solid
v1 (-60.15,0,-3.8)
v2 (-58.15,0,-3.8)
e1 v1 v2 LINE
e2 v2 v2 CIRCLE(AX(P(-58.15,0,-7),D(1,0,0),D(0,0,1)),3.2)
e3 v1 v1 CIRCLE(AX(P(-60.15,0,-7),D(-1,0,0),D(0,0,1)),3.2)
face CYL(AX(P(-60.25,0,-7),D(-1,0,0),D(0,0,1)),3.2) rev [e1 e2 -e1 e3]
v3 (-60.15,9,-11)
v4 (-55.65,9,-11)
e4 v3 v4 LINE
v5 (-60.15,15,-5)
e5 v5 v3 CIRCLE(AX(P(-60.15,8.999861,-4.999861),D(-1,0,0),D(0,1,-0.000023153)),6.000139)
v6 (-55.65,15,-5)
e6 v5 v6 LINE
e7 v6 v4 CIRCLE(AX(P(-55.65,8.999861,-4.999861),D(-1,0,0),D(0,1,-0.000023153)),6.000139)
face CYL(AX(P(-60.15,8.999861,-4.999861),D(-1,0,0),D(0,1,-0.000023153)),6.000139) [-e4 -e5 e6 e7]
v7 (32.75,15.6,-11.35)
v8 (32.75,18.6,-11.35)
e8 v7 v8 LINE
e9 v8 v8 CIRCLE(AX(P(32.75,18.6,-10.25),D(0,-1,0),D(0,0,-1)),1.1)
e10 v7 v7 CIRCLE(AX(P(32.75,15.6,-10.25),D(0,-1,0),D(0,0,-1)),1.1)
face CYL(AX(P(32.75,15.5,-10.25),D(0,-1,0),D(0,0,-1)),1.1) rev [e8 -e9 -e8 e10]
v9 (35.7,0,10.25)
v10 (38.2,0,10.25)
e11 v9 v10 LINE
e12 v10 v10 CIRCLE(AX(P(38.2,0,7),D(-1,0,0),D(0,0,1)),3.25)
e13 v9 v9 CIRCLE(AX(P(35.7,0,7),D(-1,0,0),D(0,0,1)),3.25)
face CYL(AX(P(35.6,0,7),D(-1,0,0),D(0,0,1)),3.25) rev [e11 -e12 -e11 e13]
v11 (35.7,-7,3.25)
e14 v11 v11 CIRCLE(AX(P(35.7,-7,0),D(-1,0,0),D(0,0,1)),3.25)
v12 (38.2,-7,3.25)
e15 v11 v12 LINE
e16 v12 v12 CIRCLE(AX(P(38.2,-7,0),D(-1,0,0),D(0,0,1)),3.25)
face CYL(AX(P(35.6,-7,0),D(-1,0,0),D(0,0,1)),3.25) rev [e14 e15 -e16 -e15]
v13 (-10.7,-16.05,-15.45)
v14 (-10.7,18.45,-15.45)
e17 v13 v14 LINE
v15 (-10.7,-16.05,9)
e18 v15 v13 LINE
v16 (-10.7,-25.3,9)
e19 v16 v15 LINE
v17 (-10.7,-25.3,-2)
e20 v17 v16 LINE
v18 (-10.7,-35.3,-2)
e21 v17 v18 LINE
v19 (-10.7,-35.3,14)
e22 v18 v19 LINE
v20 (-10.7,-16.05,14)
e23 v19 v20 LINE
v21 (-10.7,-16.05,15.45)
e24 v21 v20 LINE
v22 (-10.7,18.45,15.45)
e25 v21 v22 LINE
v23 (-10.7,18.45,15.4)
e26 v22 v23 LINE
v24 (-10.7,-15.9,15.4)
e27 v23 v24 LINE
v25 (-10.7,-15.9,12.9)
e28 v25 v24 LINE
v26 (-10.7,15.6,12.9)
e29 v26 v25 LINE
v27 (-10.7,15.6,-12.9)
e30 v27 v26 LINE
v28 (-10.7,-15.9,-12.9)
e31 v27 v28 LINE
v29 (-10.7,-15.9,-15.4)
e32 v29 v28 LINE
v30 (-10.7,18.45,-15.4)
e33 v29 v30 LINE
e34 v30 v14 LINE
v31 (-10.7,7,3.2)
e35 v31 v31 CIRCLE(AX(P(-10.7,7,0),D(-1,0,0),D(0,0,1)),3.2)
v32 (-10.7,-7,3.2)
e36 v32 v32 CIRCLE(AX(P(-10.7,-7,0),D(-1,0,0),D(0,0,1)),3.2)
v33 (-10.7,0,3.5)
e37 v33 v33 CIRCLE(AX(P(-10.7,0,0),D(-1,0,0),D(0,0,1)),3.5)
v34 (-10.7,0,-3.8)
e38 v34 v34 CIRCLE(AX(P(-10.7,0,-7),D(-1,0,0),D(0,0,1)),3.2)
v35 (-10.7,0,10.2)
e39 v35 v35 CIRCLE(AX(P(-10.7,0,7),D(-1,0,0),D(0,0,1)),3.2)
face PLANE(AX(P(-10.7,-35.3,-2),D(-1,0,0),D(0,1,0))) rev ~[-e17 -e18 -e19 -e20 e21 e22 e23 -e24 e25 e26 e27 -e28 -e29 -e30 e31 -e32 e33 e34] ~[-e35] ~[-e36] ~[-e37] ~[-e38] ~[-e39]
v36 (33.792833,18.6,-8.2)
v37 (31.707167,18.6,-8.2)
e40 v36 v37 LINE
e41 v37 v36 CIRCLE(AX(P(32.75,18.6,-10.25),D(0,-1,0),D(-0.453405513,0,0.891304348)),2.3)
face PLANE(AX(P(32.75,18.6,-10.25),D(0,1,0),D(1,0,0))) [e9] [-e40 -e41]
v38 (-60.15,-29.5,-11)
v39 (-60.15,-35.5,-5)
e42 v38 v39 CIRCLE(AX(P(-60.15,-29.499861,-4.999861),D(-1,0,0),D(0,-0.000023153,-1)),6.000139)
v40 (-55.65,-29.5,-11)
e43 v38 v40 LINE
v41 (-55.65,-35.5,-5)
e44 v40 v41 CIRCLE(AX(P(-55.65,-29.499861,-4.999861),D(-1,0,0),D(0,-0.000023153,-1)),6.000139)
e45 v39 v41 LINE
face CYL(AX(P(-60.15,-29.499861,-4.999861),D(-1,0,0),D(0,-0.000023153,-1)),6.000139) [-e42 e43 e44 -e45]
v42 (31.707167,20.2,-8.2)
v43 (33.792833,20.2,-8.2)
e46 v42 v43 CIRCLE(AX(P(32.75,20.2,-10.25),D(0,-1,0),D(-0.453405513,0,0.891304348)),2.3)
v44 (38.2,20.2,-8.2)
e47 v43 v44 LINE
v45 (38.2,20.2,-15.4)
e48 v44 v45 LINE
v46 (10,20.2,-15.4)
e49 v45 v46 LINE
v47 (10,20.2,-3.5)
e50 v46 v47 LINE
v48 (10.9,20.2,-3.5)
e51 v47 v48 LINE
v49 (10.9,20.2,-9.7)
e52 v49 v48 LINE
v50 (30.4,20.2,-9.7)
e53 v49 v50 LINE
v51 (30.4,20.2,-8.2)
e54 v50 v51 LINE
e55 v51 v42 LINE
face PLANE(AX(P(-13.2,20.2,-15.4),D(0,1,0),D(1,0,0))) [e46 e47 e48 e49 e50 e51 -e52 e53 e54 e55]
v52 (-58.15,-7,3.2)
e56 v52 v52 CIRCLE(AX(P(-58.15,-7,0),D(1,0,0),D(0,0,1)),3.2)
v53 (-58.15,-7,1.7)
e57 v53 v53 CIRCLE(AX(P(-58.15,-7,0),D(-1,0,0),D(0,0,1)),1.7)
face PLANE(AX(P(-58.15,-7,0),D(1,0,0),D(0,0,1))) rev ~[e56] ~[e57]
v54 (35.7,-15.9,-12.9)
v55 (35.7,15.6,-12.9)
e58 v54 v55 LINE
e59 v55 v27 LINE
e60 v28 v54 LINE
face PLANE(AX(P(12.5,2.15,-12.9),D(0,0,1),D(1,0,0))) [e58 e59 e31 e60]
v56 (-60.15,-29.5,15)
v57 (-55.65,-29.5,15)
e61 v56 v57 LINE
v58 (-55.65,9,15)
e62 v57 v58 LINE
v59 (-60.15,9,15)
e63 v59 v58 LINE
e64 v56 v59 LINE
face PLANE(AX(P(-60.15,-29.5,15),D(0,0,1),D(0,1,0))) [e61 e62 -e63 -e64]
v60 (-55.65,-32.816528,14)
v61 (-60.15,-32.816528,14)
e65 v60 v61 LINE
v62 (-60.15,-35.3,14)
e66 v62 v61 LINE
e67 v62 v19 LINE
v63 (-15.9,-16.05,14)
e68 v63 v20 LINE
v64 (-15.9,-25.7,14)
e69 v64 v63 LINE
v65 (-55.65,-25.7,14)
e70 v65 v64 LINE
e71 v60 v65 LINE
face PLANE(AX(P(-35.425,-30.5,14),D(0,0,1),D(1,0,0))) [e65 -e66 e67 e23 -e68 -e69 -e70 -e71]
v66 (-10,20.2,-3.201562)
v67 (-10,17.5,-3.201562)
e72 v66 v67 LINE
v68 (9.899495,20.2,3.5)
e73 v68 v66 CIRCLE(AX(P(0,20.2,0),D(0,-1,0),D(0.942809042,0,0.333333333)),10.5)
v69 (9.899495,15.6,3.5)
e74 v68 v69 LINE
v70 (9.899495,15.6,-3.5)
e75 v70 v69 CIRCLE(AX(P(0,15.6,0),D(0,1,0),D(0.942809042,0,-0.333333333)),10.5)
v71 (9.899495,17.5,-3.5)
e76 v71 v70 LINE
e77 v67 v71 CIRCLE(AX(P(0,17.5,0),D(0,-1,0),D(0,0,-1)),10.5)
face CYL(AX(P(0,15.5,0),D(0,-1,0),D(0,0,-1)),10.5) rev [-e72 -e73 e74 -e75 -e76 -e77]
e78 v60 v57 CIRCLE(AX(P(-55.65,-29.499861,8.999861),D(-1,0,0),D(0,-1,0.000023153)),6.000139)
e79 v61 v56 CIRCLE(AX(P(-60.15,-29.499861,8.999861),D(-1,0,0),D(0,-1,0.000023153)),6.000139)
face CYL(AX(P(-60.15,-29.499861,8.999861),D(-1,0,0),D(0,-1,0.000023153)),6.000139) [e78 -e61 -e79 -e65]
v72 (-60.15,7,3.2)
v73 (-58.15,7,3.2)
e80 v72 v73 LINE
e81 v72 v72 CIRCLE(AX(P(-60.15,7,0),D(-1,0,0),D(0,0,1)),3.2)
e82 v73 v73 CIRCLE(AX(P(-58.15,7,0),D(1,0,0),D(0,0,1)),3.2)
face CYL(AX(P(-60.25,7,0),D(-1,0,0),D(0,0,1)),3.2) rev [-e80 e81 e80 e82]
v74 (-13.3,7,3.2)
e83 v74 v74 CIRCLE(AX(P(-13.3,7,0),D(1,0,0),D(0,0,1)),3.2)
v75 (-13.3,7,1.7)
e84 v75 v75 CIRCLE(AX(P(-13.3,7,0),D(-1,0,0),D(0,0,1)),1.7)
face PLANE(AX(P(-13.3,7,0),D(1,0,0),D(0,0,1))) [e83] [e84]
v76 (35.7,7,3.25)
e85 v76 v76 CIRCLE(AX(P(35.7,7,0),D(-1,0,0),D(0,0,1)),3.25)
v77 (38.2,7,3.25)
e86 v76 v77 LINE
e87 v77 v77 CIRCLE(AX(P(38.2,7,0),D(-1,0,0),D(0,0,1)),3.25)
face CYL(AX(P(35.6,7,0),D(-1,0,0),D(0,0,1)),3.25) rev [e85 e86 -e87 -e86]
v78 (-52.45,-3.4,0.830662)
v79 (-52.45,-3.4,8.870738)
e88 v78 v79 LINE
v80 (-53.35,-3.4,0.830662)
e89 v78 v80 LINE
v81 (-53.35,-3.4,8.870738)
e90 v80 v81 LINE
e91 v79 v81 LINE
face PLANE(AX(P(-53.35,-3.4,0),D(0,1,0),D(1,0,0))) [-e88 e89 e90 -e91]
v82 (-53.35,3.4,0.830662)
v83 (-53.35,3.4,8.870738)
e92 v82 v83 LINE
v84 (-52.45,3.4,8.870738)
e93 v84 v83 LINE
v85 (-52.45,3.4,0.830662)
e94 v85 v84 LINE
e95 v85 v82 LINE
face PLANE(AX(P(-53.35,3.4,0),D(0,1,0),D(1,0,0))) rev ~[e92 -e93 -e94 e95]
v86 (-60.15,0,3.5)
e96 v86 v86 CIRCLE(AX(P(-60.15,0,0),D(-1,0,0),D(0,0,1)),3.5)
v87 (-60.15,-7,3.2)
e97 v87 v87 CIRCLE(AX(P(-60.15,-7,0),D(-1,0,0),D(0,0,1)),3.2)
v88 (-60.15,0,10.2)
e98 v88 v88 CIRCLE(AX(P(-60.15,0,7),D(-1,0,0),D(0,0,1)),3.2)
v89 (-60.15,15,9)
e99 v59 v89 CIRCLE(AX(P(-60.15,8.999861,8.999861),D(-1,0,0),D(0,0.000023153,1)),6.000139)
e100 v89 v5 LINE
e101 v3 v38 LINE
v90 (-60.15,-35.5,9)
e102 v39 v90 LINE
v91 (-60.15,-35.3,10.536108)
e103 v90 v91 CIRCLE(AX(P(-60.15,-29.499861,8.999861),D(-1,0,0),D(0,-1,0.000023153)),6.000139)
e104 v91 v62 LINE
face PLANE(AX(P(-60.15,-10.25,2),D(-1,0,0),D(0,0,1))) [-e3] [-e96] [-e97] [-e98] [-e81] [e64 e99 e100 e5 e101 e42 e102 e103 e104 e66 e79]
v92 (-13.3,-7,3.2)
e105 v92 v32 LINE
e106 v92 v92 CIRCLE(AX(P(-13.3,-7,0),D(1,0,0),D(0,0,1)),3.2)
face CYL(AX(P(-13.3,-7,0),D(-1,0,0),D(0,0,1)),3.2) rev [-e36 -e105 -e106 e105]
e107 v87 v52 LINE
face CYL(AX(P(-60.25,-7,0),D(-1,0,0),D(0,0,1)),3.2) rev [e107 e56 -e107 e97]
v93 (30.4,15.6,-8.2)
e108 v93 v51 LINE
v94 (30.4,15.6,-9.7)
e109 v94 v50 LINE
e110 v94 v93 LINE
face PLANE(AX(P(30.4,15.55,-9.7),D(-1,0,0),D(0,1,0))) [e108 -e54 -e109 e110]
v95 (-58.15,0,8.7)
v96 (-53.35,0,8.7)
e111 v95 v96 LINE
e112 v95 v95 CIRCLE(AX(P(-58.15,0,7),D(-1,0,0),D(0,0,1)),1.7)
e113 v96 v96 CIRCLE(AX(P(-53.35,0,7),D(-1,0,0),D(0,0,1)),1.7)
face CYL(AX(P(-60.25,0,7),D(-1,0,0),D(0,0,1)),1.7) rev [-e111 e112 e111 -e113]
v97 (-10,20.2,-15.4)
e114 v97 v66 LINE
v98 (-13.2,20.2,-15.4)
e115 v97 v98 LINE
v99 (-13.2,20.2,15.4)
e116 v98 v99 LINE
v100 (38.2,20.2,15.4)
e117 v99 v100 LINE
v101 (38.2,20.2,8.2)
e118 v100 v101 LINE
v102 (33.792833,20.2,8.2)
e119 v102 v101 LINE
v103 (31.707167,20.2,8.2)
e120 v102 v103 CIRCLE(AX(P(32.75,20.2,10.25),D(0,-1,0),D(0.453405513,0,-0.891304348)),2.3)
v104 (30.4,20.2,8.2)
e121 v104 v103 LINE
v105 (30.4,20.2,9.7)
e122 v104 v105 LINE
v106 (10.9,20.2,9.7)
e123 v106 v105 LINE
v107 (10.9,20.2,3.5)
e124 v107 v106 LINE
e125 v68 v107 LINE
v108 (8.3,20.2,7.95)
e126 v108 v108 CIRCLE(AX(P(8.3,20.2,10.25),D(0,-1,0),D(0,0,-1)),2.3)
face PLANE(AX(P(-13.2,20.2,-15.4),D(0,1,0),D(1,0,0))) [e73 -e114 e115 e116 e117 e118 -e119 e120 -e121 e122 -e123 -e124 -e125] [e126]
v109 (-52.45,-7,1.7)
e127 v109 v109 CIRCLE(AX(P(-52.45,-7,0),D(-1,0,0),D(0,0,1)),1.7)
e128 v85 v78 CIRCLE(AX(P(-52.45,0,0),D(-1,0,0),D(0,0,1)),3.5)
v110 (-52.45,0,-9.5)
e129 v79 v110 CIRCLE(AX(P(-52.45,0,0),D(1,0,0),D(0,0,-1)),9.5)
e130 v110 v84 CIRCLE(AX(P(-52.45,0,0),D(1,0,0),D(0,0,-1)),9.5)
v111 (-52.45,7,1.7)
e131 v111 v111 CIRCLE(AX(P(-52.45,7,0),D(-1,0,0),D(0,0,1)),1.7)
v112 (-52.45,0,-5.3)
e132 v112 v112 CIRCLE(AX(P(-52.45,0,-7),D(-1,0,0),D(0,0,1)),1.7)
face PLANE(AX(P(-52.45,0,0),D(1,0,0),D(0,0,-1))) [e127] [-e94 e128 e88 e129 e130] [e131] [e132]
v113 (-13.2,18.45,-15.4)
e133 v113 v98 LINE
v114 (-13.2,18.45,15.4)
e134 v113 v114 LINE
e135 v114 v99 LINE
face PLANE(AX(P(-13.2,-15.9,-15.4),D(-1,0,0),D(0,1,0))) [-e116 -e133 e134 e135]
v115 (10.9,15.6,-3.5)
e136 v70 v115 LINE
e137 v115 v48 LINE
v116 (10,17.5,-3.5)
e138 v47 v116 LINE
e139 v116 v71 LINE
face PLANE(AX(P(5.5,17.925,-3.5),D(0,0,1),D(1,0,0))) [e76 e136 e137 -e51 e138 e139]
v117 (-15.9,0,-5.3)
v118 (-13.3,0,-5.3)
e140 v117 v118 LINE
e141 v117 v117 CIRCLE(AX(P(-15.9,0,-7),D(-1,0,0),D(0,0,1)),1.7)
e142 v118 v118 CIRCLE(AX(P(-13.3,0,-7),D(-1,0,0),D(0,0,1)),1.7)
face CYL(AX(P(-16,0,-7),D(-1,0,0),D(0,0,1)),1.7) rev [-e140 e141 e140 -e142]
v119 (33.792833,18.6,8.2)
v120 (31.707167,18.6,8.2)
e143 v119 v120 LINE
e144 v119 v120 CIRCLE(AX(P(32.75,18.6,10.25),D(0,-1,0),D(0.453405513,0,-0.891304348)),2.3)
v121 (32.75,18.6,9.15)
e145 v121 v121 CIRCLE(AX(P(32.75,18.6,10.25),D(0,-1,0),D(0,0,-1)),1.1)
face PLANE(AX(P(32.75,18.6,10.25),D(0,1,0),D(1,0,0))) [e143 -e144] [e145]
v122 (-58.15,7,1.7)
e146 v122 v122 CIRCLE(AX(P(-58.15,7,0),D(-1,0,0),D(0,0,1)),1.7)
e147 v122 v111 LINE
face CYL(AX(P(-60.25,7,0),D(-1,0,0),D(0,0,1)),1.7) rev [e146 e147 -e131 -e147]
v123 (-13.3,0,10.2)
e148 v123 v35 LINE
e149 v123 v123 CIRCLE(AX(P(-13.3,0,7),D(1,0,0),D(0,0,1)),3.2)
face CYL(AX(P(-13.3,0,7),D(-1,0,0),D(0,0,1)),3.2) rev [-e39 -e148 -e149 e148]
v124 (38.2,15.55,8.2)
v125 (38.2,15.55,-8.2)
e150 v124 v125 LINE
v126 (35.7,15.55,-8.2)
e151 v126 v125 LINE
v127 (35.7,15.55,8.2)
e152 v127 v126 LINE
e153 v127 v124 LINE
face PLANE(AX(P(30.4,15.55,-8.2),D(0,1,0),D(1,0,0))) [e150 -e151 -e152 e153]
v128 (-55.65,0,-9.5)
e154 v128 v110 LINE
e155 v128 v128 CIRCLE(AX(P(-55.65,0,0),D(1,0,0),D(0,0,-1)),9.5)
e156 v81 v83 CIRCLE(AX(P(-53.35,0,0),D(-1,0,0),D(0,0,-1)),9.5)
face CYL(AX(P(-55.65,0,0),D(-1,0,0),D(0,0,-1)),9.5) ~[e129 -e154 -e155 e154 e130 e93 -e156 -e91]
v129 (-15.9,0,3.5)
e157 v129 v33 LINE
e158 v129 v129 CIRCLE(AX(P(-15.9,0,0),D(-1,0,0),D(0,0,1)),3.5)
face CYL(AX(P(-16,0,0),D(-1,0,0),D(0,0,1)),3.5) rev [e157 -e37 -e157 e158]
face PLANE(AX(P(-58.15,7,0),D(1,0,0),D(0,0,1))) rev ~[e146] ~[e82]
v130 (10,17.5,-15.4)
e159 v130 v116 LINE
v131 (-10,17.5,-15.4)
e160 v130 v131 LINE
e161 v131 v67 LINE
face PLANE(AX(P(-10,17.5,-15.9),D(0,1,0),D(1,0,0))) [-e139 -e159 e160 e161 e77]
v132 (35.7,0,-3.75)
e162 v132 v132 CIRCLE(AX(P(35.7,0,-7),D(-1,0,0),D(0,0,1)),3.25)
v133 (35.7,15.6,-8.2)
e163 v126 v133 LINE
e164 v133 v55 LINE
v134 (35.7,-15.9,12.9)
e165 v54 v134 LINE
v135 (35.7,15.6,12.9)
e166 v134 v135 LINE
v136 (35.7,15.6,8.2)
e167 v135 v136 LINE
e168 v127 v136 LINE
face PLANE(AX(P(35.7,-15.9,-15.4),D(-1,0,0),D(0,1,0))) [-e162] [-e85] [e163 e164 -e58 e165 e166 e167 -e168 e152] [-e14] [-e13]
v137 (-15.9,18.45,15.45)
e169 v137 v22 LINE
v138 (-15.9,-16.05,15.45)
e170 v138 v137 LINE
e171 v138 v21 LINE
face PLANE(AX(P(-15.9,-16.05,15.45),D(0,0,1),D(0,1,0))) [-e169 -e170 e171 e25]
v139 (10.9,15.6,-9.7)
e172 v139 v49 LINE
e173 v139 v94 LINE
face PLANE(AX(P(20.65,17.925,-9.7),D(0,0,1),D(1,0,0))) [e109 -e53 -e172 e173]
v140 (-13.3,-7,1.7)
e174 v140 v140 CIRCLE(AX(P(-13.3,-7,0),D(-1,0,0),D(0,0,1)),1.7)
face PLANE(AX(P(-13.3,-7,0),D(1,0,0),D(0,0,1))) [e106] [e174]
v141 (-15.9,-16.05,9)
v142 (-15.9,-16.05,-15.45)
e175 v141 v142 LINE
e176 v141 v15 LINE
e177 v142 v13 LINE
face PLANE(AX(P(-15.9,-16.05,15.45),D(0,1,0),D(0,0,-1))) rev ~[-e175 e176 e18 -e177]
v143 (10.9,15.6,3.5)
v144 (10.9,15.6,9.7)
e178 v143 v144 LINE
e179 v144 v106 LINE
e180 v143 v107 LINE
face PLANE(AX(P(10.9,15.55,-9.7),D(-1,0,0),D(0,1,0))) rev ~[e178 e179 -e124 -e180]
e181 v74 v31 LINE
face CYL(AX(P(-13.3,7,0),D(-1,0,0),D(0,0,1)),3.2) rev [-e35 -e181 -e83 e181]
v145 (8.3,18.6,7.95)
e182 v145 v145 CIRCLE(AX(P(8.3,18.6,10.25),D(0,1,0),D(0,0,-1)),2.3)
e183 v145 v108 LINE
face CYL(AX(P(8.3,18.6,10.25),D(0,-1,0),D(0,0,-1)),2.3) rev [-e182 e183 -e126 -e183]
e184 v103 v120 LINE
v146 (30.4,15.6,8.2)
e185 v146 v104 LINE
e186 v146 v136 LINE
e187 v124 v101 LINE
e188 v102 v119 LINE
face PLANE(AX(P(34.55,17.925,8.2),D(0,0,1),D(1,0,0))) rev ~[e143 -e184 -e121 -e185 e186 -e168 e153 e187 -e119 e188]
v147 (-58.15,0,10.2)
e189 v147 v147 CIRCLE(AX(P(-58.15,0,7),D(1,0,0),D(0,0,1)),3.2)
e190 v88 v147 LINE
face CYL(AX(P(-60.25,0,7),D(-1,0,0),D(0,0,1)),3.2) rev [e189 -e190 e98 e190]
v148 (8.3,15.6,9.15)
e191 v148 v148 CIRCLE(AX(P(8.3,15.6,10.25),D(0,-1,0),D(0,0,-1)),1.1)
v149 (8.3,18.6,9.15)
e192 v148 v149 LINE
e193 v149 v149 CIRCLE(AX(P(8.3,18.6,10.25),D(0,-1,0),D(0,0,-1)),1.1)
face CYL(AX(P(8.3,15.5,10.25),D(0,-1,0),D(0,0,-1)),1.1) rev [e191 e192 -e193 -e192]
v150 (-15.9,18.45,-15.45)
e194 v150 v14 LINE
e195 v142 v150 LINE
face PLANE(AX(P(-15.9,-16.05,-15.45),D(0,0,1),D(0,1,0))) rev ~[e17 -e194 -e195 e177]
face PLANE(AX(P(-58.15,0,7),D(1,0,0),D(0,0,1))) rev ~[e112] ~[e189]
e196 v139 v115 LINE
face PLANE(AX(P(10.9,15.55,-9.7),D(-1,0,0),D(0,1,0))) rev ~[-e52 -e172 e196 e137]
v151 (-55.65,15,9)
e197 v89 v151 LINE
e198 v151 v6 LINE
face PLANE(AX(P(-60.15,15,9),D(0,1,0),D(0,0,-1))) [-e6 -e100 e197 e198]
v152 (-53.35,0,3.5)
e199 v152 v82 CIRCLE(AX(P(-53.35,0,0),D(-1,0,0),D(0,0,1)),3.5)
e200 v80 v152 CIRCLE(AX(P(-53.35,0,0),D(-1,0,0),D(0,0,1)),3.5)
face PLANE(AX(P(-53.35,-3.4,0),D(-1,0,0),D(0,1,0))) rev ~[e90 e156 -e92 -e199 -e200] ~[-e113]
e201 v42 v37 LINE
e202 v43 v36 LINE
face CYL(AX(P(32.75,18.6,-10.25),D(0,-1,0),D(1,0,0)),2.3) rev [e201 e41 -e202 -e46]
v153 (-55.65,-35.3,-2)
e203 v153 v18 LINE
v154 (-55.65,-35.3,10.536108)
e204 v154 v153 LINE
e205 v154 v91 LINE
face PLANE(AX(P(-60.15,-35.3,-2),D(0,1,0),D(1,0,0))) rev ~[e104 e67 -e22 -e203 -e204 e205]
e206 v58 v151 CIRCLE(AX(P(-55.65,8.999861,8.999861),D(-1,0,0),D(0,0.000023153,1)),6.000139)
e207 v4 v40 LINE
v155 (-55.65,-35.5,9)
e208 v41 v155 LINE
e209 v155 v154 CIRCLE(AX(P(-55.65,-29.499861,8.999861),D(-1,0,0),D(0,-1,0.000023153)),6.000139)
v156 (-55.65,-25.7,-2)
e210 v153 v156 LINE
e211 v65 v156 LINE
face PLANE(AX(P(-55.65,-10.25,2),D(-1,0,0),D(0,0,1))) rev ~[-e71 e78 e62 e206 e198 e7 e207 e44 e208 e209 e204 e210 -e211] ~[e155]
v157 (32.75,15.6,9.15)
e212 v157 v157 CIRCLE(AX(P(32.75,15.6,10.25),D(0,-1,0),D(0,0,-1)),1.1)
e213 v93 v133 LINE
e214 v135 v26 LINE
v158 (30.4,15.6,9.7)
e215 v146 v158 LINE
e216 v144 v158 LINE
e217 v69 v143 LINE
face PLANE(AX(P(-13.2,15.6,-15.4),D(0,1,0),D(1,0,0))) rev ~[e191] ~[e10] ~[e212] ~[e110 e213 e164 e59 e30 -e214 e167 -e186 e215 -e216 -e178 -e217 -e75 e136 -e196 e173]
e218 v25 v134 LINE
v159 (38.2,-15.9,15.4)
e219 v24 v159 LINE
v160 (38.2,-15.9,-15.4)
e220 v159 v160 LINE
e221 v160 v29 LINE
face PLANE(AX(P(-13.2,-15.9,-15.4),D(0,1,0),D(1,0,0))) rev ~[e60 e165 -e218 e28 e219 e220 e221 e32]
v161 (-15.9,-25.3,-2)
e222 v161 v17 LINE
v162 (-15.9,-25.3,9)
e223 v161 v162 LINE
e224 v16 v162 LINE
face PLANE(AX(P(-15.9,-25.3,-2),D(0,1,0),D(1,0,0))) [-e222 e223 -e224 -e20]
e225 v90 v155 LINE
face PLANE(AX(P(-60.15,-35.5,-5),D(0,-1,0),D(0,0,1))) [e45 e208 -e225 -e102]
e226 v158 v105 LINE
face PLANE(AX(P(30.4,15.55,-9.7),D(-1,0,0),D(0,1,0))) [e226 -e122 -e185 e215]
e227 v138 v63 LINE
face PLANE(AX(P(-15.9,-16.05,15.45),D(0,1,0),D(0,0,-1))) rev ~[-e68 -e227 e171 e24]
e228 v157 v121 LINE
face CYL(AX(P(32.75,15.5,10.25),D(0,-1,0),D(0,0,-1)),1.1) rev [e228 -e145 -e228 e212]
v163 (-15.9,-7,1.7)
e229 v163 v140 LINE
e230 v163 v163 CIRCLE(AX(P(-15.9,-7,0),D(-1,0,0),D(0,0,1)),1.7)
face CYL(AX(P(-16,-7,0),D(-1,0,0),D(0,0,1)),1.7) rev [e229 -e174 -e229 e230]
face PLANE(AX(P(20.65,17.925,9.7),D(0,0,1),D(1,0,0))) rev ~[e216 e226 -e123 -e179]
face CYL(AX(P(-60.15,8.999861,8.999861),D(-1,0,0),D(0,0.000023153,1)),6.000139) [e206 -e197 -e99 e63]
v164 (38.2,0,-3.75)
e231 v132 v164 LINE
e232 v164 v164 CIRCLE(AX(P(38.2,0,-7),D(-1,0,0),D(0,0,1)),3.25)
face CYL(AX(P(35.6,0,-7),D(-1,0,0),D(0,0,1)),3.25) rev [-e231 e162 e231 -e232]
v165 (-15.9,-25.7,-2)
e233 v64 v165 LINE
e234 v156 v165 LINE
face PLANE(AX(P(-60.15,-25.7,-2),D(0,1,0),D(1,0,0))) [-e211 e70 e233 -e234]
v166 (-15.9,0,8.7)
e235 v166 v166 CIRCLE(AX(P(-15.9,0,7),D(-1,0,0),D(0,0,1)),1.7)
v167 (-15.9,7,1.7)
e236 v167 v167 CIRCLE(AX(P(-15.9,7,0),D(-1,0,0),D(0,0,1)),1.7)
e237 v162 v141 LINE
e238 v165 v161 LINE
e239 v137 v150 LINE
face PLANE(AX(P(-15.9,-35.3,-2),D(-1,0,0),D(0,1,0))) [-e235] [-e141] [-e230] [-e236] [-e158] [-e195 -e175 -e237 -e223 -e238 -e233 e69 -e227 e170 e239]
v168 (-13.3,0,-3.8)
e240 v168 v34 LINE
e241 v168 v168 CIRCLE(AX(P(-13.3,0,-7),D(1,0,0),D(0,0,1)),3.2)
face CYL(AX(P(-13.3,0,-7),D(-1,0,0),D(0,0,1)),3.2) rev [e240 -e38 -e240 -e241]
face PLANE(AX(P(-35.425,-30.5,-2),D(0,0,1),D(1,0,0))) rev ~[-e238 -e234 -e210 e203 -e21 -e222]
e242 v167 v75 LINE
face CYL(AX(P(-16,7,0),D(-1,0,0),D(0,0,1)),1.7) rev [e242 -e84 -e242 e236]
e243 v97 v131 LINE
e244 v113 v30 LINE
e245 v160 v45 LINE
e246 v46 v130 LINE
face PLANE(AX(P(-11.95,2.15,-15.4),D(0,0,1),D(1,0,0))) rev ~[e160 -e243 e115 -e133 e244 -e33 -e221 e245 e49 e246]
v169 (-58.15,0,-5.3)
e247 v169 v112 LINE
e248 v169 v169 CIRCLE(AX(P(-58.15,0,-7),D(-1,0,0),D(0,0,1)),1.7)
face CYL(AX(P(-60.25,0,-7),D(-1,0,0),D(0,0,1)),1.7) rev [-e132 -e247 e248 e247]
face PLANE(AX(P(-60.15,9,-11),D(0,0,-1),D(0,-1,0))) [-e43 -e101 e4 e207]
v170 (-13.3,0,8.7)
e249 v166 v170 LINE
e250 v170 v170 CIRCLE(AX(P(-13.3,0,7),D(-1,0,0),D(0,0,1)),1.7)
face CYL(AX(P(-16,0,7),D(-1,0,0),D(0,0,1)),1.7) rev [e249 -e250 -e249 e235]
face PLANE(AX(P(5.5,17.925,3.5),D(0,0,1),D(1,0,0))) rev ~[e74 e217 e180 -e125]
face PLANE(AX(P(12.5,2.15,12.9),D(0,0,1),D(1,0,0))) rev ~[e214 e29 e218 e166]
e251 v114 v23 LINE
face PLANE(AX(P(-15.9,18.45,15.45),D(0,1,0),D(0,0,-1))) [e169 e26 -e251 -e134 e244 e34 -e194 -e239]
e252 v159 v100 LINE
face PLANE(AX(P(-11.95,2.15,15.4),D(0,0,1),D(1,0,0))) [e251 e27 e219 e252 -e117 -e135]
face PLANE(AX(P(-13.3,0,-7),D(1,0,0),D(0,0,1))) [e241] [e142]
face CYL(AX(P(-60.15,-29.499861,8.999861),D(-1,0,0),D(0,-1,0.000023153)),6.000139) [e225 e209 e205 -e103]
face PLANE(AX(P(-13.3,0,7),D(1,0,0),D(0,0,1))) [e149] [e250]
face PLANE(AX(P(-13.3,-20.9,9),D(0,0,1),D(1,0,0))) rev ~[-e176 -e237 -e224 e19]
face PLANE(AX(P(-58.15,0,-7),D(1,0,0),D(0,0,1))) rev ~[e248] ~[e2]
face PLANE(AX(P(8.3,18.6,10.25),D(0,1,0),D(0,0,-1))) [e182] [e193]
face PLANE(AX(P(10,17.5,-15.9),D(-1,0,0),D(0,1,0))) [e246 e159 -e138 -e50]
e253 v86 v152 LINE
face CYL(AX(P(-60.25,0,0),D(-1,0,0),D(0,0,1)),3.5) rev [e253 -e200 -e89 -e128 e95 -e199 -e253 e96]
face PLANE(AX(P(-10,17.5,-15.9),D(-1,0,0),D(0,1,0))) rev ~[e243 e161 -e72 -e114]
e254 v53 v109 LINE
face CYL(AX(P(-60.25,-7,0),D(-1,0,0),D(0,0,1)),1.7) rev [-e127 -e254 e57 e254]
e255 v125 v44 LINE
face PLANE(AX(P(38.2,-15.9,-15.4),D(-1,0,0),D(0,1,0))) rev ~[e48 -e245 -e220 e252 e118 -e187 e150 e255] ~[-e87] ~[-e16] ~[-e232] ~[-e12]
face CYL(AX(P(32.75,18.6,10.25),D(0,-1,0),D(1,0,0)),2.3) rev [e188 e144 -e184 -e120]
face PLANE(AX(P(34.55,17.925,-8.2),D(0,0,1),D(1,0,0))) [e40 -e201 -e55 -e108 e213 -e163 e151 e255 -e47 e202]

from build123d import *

# Parameters (mm, degrees)
S_PRISM1_W      = 30.9
S_PRISM1_H      = 34.5
BOSS_1_DEPTH    = 5.2
S_CYL2_R        = 9.5
BOSS_2_DEPTH    = 3.2
BOSS_3_DEPTH    = 4.5
S_BOX4_W        = 2.5
S_BOX4_H        = 36.1
BOSS_4_DEPTH    = 30.8
S_BOX5_W        = 2.5
S_BOX5_H        = 36.1
BOSS_5_DEPTH    = 30.8
S_BOX6_W        = 51.4
S_BOX6_H        = 36.1
BOSS_6_DEPTH    = 2.5
S_BOX7_W        = 51.4
S_BOX7_H        = 36.1
BOSS_7_DEPTH    = 2.5
S_BOX8_W        = 51.4
S_BOX8_H        = 4.6
BOSS_8_DEPTH    = 30.8
S_BOX9_W        = 5.2
S_BOX9_H        = 9.8
BOSS_9_DEPTH    = 5
S_BOX10_W       = 5.2
S_BOX10_H       = 10
BOSS_10_DEPTH   = 16
S_BOX11_W       = 49.45
S_BOX11_H       = 9.6
BOSS_11_DEPTH   = 16
S_HOLE12_R      = 3.5
HOLE_12_DEPTH   = 5.4
S_HOLE13_R      = 1.7
HOLE_13_DEPTH   = 5.4
S_HOLE14_R      = 1.7
HOLE_14_DEPTH   = 5.4
S_HOLE15_R      = 1.7
HOLE_15_DEPTH   = 5.4
S_HOLE16_R      = 1.7
HOLE_16_DEPTH   = 5.4
S_HOLE17_R      = 3.2
HOLE_17_DEPTH   = 2.7
S_HOLE18_R      = 3.2
HOLE_18_DEPTH   = 2.7
S_HOLE19_R      = 3.2
HOLE_19_DEPTH   = 2.7
S_HOLE20_R      = 3.2
HOLE_20_DEPTH   = 2.7
S_HOLE21_R      = 3.5
HOLE_21_DEPTH   = 7.9
S_HOLE22_R      = 1.7
HOLE_22_DEPTH   = 7.9
S_HOLE23_R      = 1.7
HOLE_23_DEPTH   = 7.9
S_HOLE24_R      = 1.7
HOLE_24_DEPTH   = 7.9
S_HOLE25_R      = 1.7
HOLE_25_DEPTH   = 7.9
S_HOLE26_R      = 3.2
HOLE_26_DEPTH   = 2.1
S_HOLE27_R      = 3.2
HOLE_27_DEPTH   = 2.1
S_HOLE28_R      = 3.2
HOLE_28_DEPTH   = 2.1
S_HOLE29_R      = 3.2
HOLE_29_DEPTH   = 2.1
S_CUT30_W       = 1
S_CUT30_H       = 6.8
POCKET_30_DEPTH = 10
S_HOLE31_R      = 10.5
HOLE_31_DEPTH   = 4.8
S_CUT32_W       = 19.5
S_CUT32_H       = 4.75
POCKET_32_DEPTH = 19.4
S_CUT33_W       = 8.3
S_CUT33_H       = 4.75
POCKET_33_DEPTH = 16.4
S_CUT34_W       = 11
S_CUT34_H       = 4.75
POCKET_34_DEPTH = 7
S_CUT35_W       = 20
S_CUT35_H       = 2.9
POCKET_35_DEPTH = 15.9
S_HOLE36_R      = 1.1
HOLE_36_DEPTH   = 4.8
S_HOLE37_R      = 2.3
HOLE_37_DEPTH   = 1.7
S_HOLE38_R      = 1.1
HOLE_38_DEPTH   = 4.8
S_HOLE39_R      = 2.3
HOLE_39_DEPTH   = 1.7
S_HOLE40_R      = 1.1
HOLE_40_DEPTH   = 4.8
S_HOLE41_R      = 2.3
HOLE_41_DEPTH   = 1.7
S_HOLE42_R      = 3.25
HOLE_42_DEPTH   = 2.7
S_HOLE43_R      = 3.25
HOLE_43_DEPTH   = 2.7
S_HOLE44_R      = 3.25
HOLE_44_DEPTH   = 2.7
S_HOLE45_R      = 3.25
HOLE_45_DEPTH   = 2.7


with BuildPart() as part:
    # S_prism1 → Boss_1 (new body)
    with BuildSketch(Plane(origin=(-15.9, 0, 0), x_dir=(0, 0, -1), z_dir=(1, 0, 0))):
        with Locations((0, 1.2)):
            Rectangle(S_PRISM1_W, S_PRISM1_H)
    extrude(amount=BOSS_1_DEPTH)

    # S_box4 → Boss_4 (add)
    with BuildSketch(Plane.XY.offset(-15.4)):
        with Locations((-11.95, 2.15)):
            Rectangle(S_BOX4_W, S_BOX4_H)
    extrude(amount=BOSS_4_DEPTH)



with BuildPart() as body_2:
    # S_cyl2 → Boss_2 (new body)
    with BuildSketch(Plane(origin=(-55.65, 0, 0), x_dir=(0, 0, -1), z_dir=(1, 0, 0))):
        Circle(S_CYL2_R)
    extrude(amount=BOSS_2_DEPTH)

    # S_prism3 → Boss_3 (add)
    with BuildSketch(Plane(origin=(-60.15, 0, 0), x_dir=(0, 0, -1), z_dir=(1, 0, 0))):
        with BuildLine():
            Line((11, 9), (11, -29.5))
            ThreePointArc((11, -29.5), (9.2426, -33.7426), (5, -35.5))
            Line((5, -35.5), (-9, -35.5))
            ThreePointArc((-9, -35.5), (-13.2426, -33.7426), (-15, -29.5))
            Line((-15, -29.5), (-15, 9))
            ThreePointArc((-15, 9), (-13.2426, 13.2426), (-9, 15))
            Line((-9, 15), (5, 15))
            ThreePointArc((5, 15), (9.2426, 13.2426), (11, 9))
        make_face()
    extrude(amount=BOSS_3_DEPTH)


with BuildPart() as body_3:
    # S_box5 → Boss_5 (new body)
    with BuildSketch(Plane.XY.offset(-15.4)):
        with Locations((36.95, 2.15)):
            Rectangle(S_BOX5_W, S_BOX5_H)
    extrude(amount=BOSS_5_DEPTH)


with BuildPart() as part_1:
    add(part.part)

    add(body_3.part)  # Boss_6 merges body 3
    # S_box6 → Boss_6 (add)
    with BuildSketch(Plane.XY.offset(-15.4)):
        with Locations((12.5, 2.15)):
            Rectangle(S_BOX6_W, S_BOX6_H)
    extrude(amount=BOSS_6_DEPTH)

    # S_box7 → Boss_7 (add)
    with BuildSketch(Plane.XY.offset(12.9)):
        with Locations((12.5, 2.15)):
            Rectangle(S_BOX7_W, S_BOX7_H)
    extrude(amount=BOSS_7_DEPTH)

    # S_box8 → Boss_8 (add)
    with BuildSketch(Plane.XY.offset(-15.4)):
        with Locations((12.5, 17.9)):
            Rectangle(S_BOX8_W, S_BOX8_H)
    extrude(amount=BOSS_8_DEPTH)

    # S_box9 → Boss_9 (add)
    with BuildSketch(Plane.XY.offset(9)):
        with Locations((-13.3, -20.9)):
            Rectangle(S_BOX9_W, S_BOX9_H)
    extrude(amount=BOSS_9_DEPTH)

    # S_box10 → Boss_10 (add)
    with BuildSketch(Plane.XY.offset(-2)):
        with Locations((-13.3, -30.3)):
            Rectangle(S_BOX10_W, S_BOX10_H)
    extrude(amount=BOSS_10_DEPTH)


    add(body_2.part)  # Boss_11 merges body 2
    # S_box11 → Boss_11 (add)
    with BuildSketch(Plane.XY.offset(-2)):
        with Locations((-35.425, -30.5)):
            Rectangle(S_BOX11_W, S_BOX11_H)
    extrude(amount=BOSS_11_DEPTH)

    # S_hole12 → Hole_12 (cut)
    with BuildSketch(Plane(origin=(-16, 0, 0), x_dir=(0, 0, -1), z_dir=(1, 0, 0))):
        with Locations(Location((0, 0, 0), (0, 0, 180))):
            Circle(S_HOLE12_R)
    extrude(amount=HOLE_12_DEPTH, mode=Mode.SUBTRACT)

    # S_hole13 → Hole_13 (cut)
    with BuildSketch(Plane(origin=(-16, 0, 0), x_dir=(0, 0, -1), z_dir=(1, 0, 0))):
        with Locations(Location((0, -7, 0), (0, 0, 180))):
            Circle(S_HOLE13_R)
    extrude(amount=HOLE_13_DEPTH, mode=Mode.SUBTRACT)

    # S_hole14 → Hole_14 (cut)
    with BuildSketch(Plane(origin=(-16, 0, 0), x_dir=(0, 0, -1), z_dir=(1, 0, 0))):
        with Locations(Location((-7, 0, 0), (0, 0, 180))):
            Circle(S_HOLE14_R)
    extrude(amount=HOLE_14_DEPTH, mode=Mode.SUBTRACT)

    # S_hole15 → Hole_15 (cut)
    with BuildSketch(Plane(origin=(-16, 0, 0), x_dir=(0, 0, -1), z_dir=(1, 0, 0))):
        with Locations(Location((0, 7, 0), (0, 0, 180))):
            Circle(S_HOLE15_R)
    extrude(amount=HOLE_15_DEPTH, mode=Mode.SUBTRACT)

    # S_hole16 → Hole_16 (cut)
    with BuildSketch(Plane(origin=(-16, 0, 0), x_dir=(0, 0, -1), z_dir=(1, 0, 0))):
        with Locations(Location((7, 0, 0), (0, 0, 180))):
            Circle(S_HOLE16_R)
    extrude(amount=HOLE_16_DEPTH, mode=Mode.SUBTRACT)

    # S_hole17 → Hole_17 (cut)
    with BuildSketch(Plane(origin=(-13.3, 0, 0), x_dir=(0, 0, -1), z_dir=(1, 0, 0))):
        with Locations(Location((0, -7, 0), (0, 0, 180))):
            Circle(S_HOLE17_R)
    extrude(amount=HOLE_17_DEPTH, mode=Mode.SUBTRACT)

    # S_hole18 → Hole_18 (cut)
    with BuildSketch(Plane(origin=(-13.3, 0, 0), x_dir=(0, 0, -1), z_dir=(1, 0, 0))):
        with Locations(Location((-7, 0, 0), (0, 0, 180))):
            Circle(S_HOLE18_R)
    extrude(amount=HOLE_18_DEPTH, mode=Mode.SUBTRACT)

    # S_hole19 → Hole_19 (cut)
    with BuildSketch(Plane(origin=(-13.3, 0, 0), x_dir=(0, 0, -1), z_dir=(1, 0, 0))):
        with Locations(Location((0, 7, 0), (0, 0, 180))):
            Circle(S_HOLE19_R)
    extrude(amount=HOLE_19_DEPTH, mode=Mode.SUBTRACT)

    # S_hole20 → Hole_20 (cut)
    with BuildSketch(Plane(origin=(-13.3, 0, 0), x_dir=(0, 0, -1), z_dir=(1, 0, 0))):
        with Locations(Location((7, 0, 0), (0, 0, 180))):
            Circle(S_HOLE20_R)
    extrude(amount=HOLE_20_DEPTH, mode=Mode.SUBTRACT)

    # S_hole21 → Hole_21 (cut)
    with BuildSketch(Plane(origin=(-60.25, 0, 0), x_dir=(0, 0, -1), z_dir=(1, 0, 0))):
        with Locations(Location((0, 0, 0), (0, 0, 180))):
            Circle(S_HOLE21_R)
    extrude(amount=HOLE_21_DEPTH, mode=Mode.SUBTRACT)

    # S_hole22 → Hole_22 (cut)
    with BuildSketch(Plane(origin=(-60.25, 0, 0), x_dir=(0, 0, -1), z_dir=(1, 0, 0))):
        with Locations(Location((0, -7, 0), (0, 0, 180))):
            Circle(S_HOLE22_R)
    extrude(amount=HOLE_22_DEPTH, mode=Mode.SUBTRACT)

    # S_hole23 → Hole_23 (cut)
    with BuildSketch(Plane(origin=(-60.25, 0, 0), x_dir=(0, 0, -1), z_dir=(1, 0, 0))):
        with Locations(Location((-7, 0, 0), (0, 0, 180))):
            Circle(S_HOLE23_R)
    extrude(amount=HOLE_23_DEPTH, mode=Mode.SUBTRACT)

    # S_hole24 → Hole_24 (cut)
    with BuildSketch(Plane(origin=(-60.25, 0, 0), x_dir=(0, 0, -1), z_dir=(1, 0, 0))):
        with Locations(Location((0, 7, 0), (0, 0, 180))):
            Circle(S_HOLE24_R)
    extrude(amount=HOLE_24_DEPTH, mode=Mode.SUBTRACT)

    # S_hole25 → Hole_25 (cut)
    with BuildSketch(Plane(origin=(-60.25, 0, 0), x_dir=(0, 0, -1), z_dir=(1, 0, 0))):
        with Locations(Location((7, 0, 0), (0, 0, 180))):
            Circle(S_HOLE25_R)
    extrude(amount=HOLE_25_DEPTH, mode=Mode.SUBTRACT)

    # S_hole26 → Hole_26 (cut)
    with BuildSketch(Plane(origin=(-60.25, 0, 0), x_dir=(0, 0, -1), z_dir=(1, 0, 0))):
        with Locations(Location((0, -7, 0), (0, 0, 180))):
            Circle(S_HOLE26_R)
    extrude(amount=HOLE_26_DEPTH, mode=Mode.SUBTRACT)

    # S_hole27 → Hole_27 (cut)
    with BuildSketch(Plane(origin=(-60.25, 0, 0), x_dir=(0, 0, -1), z_dir=(1, 0, 0))):
        with Locations(Location((-7, 0, 0), (0, 0, 180))):
            Circle(S_HOLE27_R)
    extrude(amount=HOLE_27_DEPTH, mode=Mode.SUBTRACT)

    # S_hole28 → Hole_28 (cut)
    with BuildSketch(Plane(origin=(-60.25, 0, 0), x_dir=(0, 0, -1), z_dir=(1, 0, 0))):
        with Locations(Location((0, 7, 0), (0, 0, 180))):
            Circle(S_HOLE28_R)
    extrude(amount=HOLE_28_DEPTH, mode=Mode.SUBTRACT)

    # S_hole29 → Hole_29 (cut)
    with BuildSketch(Plane(origin=(-60.25, 0, 0), x_dir=(0, 0, -1), z_dir=(1, 0, 0))):
        with Locations(Location((7, 0, 0), (0, 0, 180))):
            Circle(S_HOLE29_R)
    extrude(amount=HOLE_29_DEPTH, mode=Mode.SUBTRACT)

    # S_cut30 → Pocket_30 (cut)
    with BuildSketch(Plane.XY):
        with Locations((-52.85, 0)):
            Rectangle(S_CUT30_W, S_CUT30_H)
    extrude(amount=POCKET_30_DEPTH, mode=Mode.SUBTRACT)

    # S_hole31 → Hole_31 (cut)
    with BuildSketch(Plane(origin=(0, 15.5, 0), x_dir=(1, 0, 0), z_dir=(0, 1, 0))):
        with Locations(Location((0, 0, 0), (0, 0, 90))):
            Circle(S_HOLE31_R)
    extrude(amount=HOLE_31_DEPTH, mode=Mode.SUBTRACT)

    # S_cut32 → Pocket_32 (cut)
    with BuildSketch(Plane.XY.offset(-9.7)):
        with Locations((20.65, 17.925)):
            Rectangle(S_CUT32_W, S_CUT32_H)
    extrude(amount=POCKET_32_DEPTH, mode=Mode.SUBTRACT)

    # S_cut33 → Pocket_33 (cut)
    with BuildSketch(Plane.XY.offset(-8.2)):
        with Locations((34.55, 17.925)):
            Rectangle(S_CUT33_W, S_CUT33_H)
    extrude(amount=POCKET_33_DEPTH, mode=Mode.SUBTRACT)

    # S_cut34 → Pocket_34 (cut)
    with BuildSketch(Plane.XY.offset(-3.5)):
        with Locations((5.5, 17.925)):
            Rectangle(S_CUT34_W, S_CUT34_H)
    extrude(amount=POCKET_34_DEPTH, mode=Mode.SUBTRACT)

    # S_cut35 → Pocket_35 (cut)
    with BuildSketch(Plane.XY.offset(-15.9)):
        with Locations((0, 18.95)):
            Rectangle(S_CUT35_W, S_CUT35_H)
    extrude(amount=POCKET_35_DEPTH, mode=Mode.SUBTRACT)

    # S_hole36 → Hole_36 (cut)
    with BuildSketch(Plane(origin=(0, 15.5, 0), x_dir=(1, 0, 0), z_dir=(0, 1, 0))):
        with Locations(Location((8.3, -10.25, 0), (0, 0, 90))):
            Circle(S_HOLE36_R)
    extrude(amount=HOLE_36_DEPTH, mode=Mode.SUBTRACT)

    # S_hole37 → Hole_37 (cut)
    with BuildSketch(Plane(origin=(0, 18.6, 0), x_dir=(1, 0, 0), z_dir=(0, 1, 0))):
        with Locations(Location((8.3, -10.25, 0), (0, 0, 90))):
            Circle(S_HOLE37_R)
    extrude(amount=HOLE_37_DEPTH, mode=Mode.SUBTRACT)

    # S_hole38 → Hole_38 (cut)
    with BuildSketch(Plane(origin=(0, 15.5, 0), x_dir=(1, 0, 0), z_dir=(0, 1, 0))):
        with Locations(Location((32.75, 10.25, 0), (0, 0, 90))):
            Circle(S_HOLE38_R)
    extrude(amount=HOLE_38_DEPTH, mode=Mode.SUBTRACT)

    # S_hole39 → Hole_39 (cut)
    with BuildSketch(Plane(origin=(0, 18.6, 0), x_dir=(1, 0, 0), z_dir=(0, 1, 0))):
        with Locations((32.75, 10.25)):
            Circle(S_HOLE39_R)
    extrude(amount=HOLE_39_DEPTH, mode=Mode.SUBTRACT)

    # S_hole40 → Hole_40 (cut)
    with BuildSketch(Plane(origin=(0, 15.5, 0), x_dir=(1, 0, 0), z_dir=(0, 1, 0))):
        with Locations(Location((32.75, -10.25, 0), (0, 0, 90))):
            Circle(S_HOLE40_R)
    extrude(amount=HOLE_40_DEPTH, mode=Mode.SUBTRACT)

    # S_hole41 → Hole_41 (cut)
    with BuildSketch(Plane(origin=(0, 18.6, 0), x_dir=(1, 0, 0), z_dir=(0, 1, 0))):
        with Locations((32.75, -10.25)):
            Circle(S_HOLE41_R)
    extrude(amount=HOLE_41_DEPTH, mode=Mode.SUBTRACT)

    # S_hole42 → Hole_42 (cut)
    with BuildSketch(Plane(origin=(35.6, 0, 0), x_dir=(0, 0, -1), z_dir=(1, 0, 0))):
        with Locations(Location((0, -7, 0), (0, 0, 180))):
            Circle(S_HOLE42_R)
    extrude(amount=HOLE_42_DEPTH, mode=Mode.SUBTRACT)

    # S_hole43 → Hole_43 (cut)
    with BuildSketch(Plane(origin=(35.6, 0, 0), x_dir=(0, 0, -1), z_dir=(1, 0, 0))):
        with Locations(Location((-7, 0, 0), (0, 0, 180))):
            Circle(S_HOLE43_R)
    extrude(amount=HOLE_43_DEPTH, mode=Mode.SUBTRACT)

    # S_hole44 → Hole_44 (cut)
    with BuildSketch(Plane(origin=(35.6, 0, 0), x_dir=(0, 0, -1), z_dir=(1, 0, 0))):
        with Locations(Location((0, 7, 0), (0, 0, 180))):
            Circle(S_HOLE44_R)
    extrude(amount=HOLE_44_DEPTH, mode=Mode.SUBTRACT)

    # S_hole45 → Hole_45 (cut)
    with BuildSketch(Plane(origin=(35.6, 0, 0), x_dir=(0, 0, -1), z_dir=(1, 0, 0))):
        with Locations(Location((7, 0, 0), (0, 0, 180))):
            Circle(S_HOLE45_R)
    extrude(amount=HOLE_45_DEPTH, mode=Mode.SUBTRACT)


solid = part_1.part
